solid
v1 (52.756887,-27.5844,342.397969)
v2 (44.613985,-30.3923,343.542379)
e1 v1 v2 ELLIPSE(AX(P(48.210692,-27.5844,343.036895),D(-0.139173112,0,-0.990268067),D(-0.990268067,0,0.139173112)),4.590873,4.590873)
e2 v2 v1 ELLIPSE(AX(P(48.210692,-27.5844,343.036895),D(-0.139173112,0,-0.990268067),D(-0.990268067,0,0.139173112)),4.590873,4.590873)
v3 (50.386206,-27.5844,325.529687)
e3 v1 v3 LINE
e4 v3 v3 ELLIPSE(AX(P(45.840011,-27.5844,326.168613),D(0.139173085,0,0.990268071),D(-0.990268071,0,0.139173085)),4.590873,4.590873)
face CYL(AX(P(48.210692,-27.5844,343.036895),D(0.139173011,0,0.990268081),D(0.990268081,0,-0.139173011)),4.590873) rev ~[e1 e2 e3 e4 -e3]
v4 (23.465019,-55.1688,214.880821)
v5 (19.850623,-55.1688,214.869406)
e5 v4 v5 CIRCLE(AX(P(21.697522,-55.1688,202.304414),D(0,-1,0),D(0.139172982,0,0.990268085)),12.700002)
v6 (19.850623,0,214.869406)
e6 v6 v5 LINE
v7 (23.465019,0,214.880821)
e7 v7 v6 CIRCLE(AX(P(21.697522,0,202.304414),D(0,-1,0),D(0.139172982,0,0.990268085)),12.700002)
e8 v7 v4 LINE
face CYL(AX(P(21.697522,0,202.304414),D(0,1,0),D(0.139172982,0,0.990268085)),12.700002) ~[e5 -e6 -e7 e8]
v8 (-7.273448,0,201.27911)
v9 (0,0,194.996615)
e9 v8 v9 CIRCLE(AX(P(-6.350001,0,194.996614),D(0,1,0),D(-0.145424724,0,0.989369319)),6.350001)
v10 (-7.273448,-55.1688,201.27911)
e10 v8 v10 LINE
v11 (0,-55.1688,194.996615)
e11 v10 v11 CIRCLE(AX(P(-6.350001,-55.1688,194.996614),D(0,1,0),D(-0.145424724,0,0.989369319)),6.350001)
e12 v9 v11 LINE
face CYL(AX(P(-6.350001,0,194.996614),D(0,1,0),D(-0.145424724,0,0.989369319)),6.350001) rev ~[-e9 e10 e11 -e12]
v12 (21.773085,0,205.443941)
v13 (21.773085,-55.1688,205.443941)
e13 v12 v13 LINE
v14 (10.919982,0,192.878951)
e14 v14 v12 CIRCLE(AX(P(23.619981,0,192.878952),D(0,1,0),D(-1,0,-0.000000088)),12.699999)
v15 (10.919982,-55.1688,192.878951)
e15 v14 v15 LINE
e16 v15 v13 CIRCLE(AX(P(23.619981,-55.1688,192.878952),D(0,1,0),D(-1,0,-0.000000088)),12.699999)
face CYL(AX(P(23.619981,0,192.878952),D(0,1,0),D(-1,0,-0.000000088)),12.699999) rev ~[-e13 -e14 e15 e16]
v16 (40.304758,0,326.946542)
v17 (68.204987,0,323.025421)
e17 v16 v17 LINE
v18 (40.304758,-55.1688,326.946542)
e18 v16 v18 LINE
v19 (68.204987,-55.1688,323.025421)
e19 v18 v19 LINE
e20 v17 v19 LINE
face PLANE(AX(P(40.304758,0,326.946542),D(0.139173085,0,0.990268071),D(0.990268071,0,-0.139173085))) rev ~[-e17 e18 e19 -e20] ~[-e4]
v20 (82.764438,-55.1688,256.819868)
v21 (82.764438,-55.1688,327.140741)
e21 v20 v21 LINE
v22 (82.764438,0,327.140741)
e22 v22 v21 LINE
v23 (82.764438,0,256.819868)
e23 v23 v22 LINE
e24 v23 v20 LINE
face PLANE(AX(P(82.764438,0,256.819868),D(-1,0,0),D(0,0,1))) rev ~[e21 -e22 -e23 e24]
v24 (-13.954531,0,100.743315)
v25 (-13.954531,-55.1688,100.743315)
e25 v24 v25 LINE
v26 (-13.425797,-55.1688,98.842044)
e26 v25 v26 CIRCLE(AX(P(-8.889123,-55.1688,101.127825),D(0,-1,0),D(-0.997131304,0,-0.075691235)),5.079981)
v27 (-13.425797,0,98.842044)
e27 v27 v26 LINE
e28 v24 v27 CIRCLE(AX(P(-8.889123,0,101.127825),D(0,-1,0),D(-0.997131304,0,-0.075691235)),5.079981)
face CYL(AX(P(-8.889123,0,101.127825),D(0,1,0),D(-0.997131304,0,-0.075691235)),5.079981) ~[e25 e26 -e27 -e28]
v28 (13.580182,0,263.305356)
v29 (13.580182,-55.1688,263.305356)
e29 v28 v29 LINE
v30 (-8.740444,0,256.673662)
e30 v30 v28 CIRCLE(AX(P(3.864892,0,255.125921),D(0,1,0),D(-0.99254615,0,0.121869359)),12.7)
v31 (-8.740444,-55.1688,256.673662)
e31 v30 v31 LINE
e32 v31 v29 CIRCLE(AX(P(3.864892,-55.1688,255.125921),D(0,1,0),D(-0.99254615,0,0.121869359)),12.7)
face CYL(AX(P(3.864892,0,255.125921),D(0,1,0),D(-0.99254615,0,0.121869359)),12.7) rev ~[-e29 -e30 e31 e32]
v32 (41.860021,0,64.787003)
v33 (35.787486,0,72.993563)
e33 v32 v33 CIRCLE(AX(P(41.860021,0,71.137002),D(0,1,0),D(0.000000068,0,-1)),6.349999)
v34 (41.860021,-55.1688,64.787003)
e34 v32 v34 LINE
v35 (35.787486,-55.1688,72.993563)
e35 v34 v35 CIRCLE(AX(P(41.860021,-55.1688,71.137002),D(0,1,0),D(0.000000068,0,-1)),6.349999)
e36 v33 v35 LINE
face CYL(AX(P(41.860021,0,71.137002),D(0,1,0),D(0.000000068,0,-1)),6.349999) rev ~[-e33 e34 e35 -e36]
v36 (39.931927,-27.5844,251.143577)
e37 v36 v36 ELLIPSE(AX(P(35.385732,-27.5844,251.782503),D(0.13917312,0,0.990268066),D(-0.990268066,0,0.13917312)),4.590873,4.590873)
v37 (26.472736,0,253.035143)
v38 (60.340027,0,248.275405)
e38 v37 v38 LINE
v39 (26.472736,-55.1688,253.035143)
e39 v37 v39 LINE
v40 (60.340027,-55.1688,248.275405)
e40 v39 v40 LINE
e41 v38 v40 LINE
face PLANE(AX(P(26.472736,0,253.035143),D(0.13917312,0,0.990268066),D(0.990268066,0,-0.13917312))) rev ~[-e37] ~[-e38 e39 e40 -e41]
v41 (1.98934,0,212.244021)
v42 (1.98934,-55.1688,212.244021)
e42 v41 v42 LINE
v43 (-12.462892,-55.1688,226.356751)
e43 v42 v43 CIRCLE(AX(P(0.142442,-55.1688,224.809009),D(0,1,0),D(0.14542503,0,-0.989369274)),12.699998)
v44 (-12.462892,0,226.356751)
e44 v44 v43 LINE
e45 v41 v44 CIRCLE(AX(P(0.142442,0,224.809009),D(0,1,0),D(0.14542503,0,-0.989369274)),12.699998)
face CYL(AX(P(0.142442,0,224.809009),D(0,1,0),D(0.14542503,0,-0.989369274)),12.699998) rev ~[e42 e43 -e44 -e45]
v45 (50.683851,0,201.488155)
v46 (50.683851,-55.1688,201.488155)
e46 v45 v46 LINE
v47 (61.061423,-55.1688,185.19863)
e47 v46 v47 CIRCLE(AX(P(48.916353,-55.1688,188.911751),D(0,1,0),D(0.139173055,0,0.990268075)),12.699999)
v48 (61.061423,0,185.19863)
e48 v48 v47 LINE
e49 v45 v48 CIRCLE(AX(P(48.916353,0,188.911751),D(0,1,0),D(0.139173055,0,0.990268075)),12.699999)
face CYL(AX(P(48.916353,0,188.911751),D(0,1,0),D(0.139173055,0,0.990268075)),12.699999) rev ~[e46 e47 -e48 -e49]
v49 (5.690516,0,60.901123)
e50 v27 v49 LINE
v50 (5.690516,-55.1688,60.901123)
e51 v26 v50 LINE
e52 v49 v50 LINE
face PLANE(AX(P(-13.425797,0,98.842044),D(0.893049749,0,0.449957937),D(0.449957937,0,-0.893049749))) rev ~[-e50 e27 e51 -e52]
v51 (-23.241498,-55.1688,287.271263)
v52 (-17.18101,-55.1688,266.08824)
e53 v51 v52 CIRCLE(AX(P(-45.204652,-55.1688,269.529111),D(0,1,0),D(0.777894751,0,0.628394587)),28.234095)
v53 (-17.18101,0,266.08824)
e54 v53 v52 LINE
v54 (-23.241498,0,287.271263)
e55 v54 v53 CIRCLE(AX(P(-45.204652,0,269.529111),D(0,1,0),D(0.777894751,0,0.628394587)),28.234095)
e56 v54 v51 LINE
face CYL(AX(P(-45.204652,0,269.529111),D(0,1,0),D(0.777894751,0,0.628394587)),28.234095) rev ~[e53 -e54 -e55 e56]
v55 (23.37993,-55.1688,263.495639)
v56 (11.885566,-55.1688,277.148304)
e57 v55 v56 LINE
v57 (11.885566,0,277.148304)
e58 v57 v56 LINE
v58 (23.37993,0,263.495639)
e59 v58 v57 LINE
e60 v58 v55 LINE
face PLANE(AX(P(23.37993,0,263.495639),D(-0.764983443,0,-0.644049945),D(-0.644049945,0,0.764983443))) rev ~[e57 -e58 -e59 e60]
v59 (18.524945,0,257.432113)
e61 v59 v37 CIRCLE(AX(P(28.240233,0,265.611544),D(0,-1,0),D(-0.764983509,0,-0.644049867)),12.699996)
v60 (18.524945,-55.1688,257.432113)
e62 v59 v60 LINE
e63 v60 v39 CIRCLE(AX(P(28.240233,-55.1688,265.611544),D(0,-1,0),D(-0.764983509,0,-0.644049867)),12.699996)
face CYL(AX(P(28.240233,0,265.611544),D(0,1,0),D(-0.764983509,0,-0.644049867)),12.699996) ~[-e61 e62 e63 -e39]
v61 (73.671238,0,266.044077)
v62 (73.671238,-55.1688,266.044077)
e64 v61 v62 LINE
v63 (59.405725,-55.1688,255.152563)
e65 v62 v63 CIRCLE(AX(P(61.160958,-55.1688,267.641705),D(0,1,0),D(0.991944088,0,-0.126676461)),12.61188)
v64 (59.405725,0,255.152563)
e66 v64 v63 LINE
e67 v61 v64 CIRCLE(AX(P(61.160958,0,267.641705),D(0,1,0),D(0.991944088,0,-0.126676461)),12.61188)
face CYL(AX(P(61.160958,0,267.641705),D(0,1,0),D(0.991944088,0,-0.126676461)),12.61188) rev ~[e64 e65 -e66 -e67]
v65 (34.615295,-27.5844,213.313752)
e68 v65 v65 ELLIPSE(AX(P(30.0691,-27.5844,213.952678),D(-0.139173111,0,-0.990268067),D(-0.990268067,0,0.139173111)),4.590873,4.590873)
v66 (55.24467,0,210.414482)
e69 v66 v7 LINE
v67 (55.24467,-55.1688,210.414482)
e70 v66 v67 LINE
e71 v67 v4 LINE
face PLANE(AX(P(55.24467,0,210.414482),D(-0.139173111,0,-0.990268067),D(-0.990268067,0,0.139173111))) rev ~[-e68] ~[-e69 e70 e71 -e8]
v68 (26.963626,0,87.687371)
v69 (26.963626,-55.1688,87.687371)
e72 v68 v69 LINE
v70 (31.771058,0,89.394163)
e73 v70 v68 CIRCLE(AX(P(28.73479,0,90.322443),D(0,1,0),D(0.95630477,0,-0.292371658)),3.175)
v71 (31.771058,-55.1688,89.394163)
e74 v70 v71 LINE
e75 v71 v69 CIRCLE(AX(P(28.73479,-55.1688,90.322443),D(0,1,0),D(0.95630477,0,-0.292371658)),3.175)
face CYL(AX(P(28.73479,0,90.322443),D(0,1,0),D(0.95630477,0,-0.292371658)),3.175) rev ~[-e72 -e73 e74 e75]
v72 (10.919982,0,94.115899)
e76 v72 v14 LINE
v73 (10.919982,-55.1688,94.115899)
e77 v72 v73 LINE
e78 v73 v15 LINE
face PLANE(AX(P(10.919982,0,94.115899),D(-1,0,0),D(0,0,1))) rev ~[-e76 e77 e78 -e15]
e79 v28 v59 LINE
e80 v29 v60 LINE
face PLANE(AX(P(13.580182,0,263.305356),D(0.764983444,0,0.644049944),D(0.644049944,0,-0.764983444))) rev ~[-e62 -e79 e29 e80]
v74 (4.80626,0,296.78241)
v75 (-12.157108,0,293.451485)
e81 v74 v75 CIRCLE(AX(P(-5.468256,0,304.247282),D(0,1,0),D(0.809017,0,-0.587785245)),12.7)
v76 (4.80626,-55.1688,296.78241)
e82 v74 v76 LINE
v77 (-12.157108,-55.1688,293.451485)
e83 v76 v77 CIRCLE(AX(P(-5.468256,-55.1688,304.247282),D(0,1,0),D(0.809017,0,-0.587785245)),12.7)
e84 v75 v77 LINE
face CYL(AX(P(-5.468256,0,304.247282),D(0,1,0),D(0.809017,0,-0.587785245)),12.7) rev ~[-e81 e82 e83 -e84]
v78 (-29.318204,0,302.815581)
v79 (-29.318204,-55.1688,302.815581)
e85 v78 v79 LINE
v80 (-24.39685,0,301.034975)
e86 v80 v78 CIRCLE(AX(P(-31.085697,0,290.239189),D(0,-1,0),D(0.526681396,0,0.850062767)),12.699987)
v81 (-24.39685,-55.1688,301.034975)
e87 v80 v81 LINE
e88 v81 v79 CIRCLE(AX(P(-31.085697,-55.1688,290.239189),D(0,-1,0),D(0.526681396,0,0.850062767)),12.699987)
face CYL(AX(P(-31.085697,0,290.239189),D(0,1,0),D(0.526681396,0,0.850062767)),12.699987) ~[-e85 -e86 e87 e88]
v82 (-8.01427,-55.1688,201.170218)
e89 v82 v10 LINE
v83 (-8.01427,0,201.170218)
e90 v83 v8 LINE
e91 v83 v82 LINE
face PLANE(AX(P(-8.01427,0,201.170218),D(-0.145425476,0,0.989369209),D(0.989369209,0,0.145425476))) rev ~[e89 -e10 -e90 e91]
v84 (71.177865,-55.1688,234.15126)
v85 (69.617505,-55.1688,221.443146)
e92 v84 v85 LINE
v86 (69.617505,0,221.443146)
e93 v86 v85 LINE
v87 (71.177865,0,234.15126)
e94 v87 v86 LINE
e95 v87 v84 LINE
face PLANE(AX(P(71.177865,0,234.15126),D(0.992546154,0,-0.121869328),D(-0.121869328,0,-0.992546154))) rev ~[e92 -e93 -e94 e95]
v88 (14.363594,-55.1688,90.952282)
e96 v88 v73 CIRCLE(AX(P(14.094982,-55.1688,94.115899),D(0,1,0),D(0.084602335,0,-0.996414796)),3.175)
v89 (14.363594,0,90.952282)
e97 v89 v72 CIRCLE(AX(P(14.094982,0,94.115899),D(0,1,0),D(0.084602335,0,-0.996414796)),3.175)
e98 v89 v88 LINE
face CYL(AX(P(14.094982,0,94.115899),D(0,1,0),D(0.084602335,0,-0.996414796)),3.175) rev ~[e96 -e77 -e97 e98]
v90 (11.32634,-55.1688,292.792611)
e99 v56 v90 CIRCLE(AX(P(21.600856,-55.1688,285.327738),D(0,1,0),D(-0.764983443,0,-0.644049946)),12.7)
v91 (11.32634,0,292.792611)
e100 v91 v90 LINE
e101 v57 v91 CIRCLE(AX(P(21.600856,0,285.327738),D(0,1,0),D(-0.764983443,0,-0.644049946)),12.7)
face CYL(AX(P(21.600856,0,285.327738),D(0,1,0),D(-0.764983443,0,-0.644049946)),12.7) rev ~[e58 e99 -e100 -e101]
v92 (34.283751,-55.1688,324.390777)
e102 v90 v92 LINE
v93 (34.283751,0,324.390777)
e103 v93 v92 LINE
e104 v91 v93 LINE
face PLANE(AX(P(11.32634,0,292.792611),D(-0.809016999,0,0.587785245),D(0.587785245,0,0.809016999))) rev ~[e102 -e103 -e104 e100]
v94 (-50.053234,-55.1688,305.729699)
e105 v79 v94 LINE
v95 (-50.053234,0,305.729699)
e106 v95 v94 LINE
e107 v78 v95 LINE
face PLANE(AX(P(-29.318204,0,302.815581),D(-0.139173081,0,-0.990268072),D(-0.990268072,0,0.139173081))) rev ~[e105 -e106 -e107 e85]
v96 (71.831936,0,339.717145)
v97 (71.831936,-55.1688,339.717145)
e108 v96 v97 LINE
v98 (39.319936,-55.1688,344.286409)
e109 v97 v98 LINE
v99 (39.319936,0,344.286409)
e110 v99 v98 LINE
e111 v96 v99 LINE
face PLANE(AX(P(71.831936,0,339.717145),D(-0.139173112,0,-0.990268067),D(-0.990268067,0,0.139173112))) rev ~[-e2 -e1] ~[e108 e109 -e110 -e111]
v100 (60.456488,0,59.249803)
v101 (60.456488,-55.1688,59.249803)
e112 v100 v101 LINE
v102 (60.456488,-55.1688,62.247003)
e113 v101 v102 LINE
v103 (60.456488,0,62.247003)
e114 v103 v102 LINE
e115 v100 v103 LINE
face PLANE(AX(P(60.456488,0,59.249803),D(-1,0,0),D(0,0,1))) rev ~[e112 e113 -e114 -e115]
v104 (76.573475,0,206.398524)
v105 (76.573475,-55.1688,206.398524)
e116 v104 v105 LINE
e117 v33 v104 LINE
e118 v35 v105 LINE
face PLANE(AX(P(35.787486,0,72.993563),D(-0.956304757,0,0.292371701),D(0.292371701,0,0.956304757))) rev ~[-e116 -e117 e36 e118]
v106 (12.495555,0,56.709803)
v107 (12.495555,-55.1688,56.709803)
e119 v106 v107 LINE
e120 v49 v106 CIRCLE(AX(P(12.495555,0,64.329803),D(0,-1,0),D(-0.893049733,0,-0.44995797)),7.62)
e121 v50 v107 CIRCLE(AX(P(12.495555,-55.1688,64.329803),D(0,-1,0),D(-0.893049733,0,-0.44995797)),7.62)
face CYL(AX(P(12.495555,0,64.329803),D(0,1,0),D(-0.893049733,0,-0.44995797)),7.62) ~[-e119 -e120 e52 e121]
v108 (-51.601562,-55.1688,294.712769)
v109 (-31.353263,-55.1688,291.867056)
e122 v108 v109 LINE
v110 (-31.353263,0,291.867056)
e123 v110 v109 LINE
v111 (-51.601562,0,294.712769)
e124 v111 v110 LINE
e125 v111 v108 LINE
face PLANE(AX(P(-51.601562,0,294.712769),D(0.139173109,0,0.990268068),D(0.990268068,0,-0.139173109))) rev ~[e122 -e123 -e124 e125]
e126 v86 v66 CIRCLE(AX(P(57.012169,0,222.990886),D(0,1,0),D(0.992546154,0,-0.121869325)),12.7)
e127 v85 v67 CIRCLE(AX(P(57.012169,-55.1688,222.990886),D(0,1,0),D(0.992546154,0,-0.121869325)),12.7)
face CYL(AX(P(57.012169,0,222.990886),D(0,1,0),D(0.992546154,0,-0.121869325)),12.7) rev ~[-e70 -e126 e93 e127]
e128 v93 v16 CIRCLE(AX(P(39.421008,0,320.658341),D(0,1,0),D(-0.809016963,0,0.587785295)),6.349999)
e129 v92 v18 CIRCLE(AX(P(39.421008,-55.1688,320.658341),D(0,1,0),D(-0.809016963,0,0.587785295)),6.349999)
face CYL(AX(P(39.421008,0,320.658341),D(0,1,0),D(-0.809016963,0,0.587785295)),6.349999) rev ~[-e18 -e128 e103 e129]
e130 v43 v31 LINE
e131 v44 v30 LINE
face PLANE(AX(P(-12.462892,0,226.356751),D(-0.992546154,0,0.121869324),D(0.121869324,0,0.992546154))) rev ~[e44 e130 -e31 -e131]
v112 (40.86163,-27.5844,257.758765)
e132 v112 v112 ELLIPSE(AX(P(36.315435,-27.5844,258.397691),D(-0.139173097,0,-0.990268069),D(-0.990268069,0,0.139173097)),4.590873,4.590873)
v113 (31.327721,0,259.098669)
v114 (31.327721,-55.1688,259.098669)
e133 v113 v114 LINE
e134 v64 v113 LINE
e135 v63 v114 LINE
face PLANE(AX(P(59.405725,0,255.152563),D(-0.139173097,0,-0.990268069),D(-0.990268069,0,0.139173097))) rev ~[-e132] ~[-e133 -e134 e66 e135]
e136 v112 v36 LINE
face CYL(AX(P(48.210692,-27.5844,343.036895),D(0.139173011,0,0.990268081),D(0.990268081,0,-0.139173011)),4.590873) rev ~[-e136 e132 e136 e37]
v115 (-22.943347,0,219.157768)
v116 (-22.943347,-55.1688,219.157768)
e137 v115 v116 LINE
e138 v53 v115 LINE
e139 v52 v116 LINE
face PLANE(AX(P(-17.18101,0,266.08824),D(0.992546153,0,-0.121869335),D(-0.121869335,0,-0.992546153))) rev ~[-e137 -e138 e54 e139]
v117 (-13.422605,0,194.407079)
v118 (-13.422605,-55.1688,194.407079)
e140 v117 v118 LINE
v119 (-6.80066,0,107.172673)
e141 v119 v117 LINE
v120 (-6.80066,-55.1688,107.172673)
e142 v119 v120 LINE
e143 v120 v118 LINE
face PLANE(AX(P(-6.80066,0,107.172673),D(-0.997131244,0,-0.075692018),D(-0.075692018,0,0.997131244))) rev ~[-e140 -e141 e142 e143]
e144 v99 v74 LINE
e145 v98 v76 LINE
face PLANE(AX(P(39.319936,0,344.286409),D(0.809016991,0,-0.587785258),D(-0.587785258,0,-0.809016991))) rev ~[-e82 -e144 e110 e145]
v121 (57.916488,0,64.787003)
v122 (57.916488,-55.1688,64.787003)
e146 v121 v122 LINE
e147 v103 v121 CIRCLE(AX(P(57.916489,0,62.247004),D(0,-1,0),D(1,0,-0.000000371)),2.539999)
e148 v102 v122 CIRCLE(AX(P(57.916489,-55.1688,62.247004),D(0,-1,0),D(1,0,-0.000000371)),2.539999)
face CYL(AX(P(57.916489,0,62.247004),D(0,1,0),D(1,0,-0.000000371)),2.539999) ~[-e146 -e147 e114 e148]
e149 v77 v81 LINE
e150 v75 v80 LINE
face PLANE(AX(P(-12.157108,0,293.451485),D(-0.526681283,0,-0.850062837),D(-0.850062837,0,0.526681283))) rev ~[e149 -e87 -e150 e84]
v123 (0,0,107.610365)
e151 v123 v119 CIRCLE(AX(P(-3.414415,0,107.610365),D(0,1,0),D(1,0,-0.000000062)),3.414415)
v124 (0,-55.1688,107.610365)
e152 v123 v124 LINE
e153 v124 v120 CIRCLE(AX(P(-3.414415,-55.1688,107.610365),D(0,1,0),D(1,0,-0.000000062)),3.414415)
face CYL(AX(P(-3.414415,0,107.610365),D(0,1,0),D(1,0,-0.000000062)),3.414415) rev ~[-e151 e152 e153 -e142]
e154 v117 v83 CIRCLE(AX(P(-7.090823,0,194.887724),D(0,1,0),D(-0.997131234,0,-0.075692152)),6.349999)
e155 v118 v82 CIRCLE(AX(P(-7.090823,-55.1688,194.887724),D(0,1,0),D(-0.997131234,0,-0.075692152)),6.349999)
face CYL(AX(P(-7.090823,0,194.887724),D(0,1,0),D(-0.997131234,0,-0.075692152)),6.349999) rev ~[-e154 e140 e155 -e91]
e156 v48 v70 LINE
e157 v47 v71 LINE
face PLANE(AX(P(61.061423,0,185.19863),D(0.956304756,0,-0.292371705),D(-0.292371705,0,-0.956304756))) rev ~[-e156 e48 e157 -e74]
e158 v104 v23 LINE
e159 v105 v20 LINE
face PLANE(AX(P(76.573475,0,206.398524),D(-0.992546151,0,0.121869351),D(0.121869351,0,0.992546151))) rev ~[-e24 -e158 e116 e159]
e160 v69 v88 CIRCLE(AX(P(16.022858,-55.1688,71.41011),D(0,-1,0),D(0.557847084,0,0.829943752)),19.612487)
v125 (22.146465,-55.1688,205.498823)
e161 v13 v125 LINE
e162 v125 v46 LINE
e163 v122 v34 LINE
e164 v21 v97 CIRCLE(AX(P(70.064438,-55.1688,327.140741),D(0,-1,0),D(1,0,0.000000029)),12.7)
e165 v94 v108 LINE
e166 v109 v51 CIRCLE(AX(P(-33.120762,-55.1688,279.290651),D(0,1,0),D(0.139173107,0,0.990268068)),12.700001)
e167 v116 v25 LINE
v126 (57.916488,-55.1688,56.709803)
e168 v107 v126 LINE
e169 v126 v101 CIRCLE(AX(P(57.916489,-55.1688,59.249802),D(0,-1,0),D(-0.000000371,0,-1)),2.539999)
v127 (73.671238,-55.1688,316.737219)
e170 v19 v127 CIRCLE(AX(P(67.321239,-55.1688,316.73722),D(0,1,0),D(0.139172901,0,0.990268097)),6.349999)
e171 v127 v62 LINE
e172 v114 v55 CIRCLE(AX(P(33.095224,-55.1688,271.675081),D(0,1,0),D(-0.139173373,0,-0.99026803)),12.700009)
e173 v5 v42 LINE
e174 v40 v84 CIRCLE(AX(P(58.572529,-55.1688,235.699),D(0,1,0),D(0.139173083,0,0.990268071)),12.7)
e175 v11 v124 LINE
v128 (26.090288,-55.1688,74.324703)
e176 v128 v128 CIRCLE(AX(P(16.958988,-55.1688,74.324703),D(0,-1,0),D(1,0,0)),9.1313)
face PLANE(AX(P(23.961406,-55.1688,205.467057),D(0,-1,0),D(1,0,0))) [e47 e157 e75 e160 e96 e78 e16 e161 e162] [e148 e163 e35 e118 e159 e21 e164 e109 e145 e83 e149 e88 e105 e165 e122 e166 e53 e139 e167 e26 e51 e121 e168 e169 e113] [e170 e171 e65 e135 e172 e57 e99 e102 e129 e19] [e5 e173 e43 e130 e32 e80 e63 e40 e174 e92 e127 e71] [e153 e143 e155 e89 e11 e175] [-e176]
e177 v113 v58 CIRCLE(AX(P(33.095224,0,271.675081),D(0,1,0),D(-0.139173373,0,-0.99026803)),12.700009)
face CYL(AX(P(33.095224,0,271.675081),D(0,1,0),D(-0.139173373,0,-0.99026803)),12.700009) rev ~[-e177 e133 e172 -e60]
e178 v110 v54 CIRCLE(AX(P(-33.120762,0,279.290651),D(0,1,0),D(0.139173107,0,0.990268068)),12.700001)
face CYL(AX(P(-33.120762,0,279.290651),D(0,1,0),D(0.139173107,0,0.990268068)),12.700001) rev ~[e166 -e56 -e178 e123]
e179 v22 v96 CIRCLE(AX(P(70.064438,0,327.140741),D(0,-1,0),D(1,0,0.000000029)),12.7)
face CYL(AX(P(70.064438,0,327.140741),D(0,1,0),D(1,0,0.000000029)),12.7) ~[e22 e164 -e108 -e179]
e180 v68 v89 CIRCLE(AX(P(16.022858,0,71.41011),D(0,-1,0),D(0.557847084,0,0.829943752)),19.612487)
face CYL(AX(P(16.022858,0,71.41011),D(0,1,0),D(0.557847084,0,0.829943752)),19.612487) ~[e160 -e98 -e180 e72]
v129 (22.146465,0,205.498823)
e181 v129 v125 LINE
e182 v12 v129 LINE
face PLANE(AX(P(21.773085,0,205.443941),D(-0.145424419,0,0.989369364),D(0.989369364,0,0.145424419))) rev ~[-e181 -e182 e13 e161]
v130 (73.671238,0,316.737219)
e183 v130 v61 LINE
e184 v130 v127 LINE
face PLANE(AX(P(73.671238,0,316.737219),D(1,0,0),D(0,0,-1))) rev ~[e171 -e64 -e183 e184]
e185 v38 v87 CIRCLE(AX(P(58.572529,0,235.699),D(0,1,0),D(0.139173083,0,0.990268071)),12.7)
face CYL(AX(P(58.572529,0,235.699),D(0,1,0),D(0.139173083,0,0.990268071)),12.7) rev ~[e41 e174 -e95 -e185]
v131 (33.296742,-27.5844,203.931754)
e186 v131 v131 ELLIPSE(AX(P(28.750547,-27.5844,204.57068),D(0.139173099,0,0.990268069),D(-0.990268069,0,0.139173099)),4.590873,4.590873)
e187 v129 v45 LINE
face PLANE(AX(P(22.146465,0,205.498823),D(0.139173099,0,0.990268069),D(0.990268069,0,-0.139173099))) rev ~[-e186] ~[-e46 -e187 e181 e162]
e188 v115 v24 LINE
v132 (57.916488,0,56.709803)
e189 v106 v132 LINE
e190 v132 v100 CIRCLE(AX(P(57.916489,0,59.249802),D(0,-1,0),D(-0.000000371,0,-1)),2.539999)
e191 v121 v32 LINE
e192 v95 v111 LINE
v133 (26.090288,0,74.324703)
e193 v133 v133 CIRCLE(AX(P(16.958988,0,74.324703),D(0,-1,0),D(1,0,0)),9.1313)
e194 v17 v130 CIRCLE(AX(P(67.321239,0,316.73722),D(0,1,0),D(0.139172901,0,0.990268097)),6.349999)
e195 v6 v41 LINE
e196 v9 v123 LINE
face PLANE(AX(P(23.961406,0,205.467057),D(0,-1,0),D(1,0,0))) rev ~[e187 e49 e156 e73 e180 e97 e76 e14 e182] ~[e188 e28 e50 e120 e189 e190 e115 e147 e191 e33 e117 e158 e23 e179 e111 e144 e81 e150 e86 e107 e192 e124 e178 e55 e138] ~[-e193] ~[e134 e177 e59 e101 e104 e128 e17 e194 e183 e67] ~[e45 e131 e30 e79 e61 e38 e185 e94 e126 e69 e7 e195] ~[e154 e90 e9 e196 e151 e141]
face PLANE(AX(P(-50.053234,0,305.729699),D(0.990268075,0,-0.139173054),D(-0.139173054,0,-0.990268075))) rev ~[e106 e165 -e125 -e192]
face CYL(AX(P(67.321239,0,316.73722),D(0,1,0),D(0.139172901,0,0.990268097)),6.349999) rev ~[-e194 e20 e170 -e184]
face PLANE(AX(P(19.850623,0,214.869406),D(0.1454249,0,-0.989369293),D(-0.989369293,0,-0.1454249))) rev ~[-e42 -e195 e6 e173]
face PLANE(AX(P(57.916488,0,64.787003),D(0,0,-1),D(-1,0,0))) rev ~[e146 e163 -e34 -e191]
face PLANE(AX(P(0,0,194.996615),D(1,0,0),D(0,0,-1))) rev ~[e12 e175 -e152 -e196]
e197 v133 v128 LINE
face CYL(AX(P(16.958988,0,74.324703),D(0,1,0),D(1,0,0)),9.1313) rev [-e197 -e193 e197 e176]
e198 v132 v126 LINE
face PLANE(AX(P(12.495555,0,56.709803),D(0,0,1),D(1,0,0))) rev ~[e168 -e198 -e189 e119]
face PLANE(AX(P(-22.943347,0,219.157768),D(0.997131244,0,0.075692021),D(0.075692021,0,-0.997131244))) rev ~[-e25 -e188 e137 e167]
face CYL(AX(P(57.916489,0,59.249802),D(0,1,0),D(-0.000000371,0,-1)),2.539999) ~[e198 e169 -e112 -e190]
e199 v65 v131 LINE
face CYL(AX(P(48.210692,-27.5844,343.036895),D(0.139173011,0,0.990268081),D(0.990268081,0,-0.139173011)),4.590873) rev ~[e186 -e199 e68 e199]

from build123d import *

# Parameters (mm, degrees)
F0_R     = 9.1313
F1_DEPTH = 55.1688
F2_R     = 4.590873
F3_DEPTH = 152.4


with BuildPart() as f1:
    # F0 (on Front) → F1 (new body)
    with BuildSketch(Plane.XZ):
        with BuildLine():
            ThreePointArc((5.690516, 60.901123), (8.49944, 57.841701), (12.495555, 56.709803))
            Line((12.495555, 56.709803), (57.916488, 56.709803))
            ThreePointArc((57.916488, 56.709803), (59.71254, 57.453752), (60.456488, 59.249803))
            Line((60.456488, 59.249803), (60.456488, 62.247003))
            ThreePointArc((60.456488, 62.247003), (59.71254, 64.043054), (57.916488, 64.787003))
            Line((57.916488, 64.787003), (41.860021, 64.787003))
            ThreePointArc((41.860021, 64.787003), (36.75553, 67.359878), (35.787486, 72.993563))
            Line((35.787486, 72.993563), (76.573475, 206.398524))
            Line((76.573475, 206.398524), (82.764438, 256.819868))
            Line((82.764438, 256.819868), (82.764438, 327.140741))
            ThreePointArc((82.764438, 327.140741), (79.649249, 335.472691), (71.831936, 339.717145))
            Line((71.831936, 339.717145), (39.319936, 344.286409))
            Line((39.319936, 344.286409), (4.80626, 296.78241))
            ThreePointArc((4.80626, 296.78241), (-3.021214, 291.785261), (-12.157108, 293.451485))
            Line((-12.157108, 293.451485), (-24.39685, 301.034975))
            ThreePointArc((-24.39685, 301.034975), (-26.76481, 302.181534), (-29.318204, 302.815581))
            Line((-29.318204, 302.815581), (-50.053234, 305.729699))
            Line((-50.053234, 305.729699), (-51.601562, 294.712769))
            Line((-51.601562, 294.712769), (-31.353263, 291.867056))
            ThreePointArc((-31.353263, 291.867056), (-26.860403, 290.340444), (-23.241498, 287.271263))
            ThreePointArc((-23.241498, 287.271263), (-18.05967, 277.295323), (-17.18101, 266.08824))
            Line((-17.18101, 266.08824), (-22.943347, 219.157768))
            Line((-22.943347, 219.157768), (-13.954531, 100.743315))
            ThreePointArc((-13.954531, 100.743315), (-13.783375, 99.766758), (-13.425797, 98.842044))
            Line((-13.425797, 98.842044), (5.690516, 60.901123))
        make_face()
        with BuildLine():
            ThreePointArc((0, 107.610365), (-3.195116, 104.203), (-6.80066, 107.172673))
            Line((-6.80066, 107.172673), (-13.422605, 194.407079))
            ThreePointArc((-13.422605, 194.407079), (-12.050117, 198.853564), (-8.01427, 201.170218))
            Line((-8.01427, 201.170218), (-7.273448, 201.27911))
            ThreePointArc((-7.273448, 201.27911), (-2.199181, 199.802153), (0, 194.996615))
            Line((0, 194.996615), (0, 107.610365))
        make_face(mode=Mode.SUBTRACT)
        with Locations((16.958988, 74.324703)):
            Circle(F0_R, mode=Mode.SUBTRACT)
        with BuildLine():
            Line((21.773085, 205.443941), (22.146465, 205.498823))
            Line((22.146465, 205.498823), (50.683851, 201.488155))
            ThreePointArc((50.683851, 201.488155), (59.627424, 195.735456), (61.061423, 185.19863))
            Line((61.061423, 185.19863), (31.771058, 89.394163))
            ThreePointArc((31.771058, 89.394163), (29.797055, 87.330417), (26.963626, 87.687371))
            ThreePointArc((26.963626, 87.687371), (20.942359, 90.395582), (14.363594, 90.952282))
            ThreePointArc((14.363594, 90.952282), (11.946985, 91.777794), (10.919982, 94.115899))
            Line((10.919982, 94.115899), (10.919982, 192.878951))
            ThreePointArc((10.919982, 192.878951), (14.008905, 201.18059), (21.773085, 205.443941))
        make_face(mode=Mode.SUBTRACT)
        with BuildLine():
            Line((55.24467, 210.414482), (23.465019, 214.880821))
            ThreePointArc((23.465019, 214.880821), (21.657413, 215.004353), (19.850623, 214.869406))
            Line((19.850623, 214.869406), (1.98934, 212.244021))
            ThreePointArc((1.98934, 212.244021), (-8.730453, 215.722663), (-12.462892, 226.356751))
            Line((-12.462892, 226.356751), (-8.740444, 256.673662))
            ThreePointArc((-8.740444, 256.673662), (0.247859, 267.299954), (13.580182, 263.305356))
            Line((13.580182, 263.305356), (18.524945, 257.432113))
            ThreePointArc((18.524945, 257.432113), (22.092313, 254.498804), (26.472736, 253.035143))
            Line((26.472736, 253.035143), (60.340027, 248.275405))
            ThreePointArc((60.340027, 248.275405), (68.648116, 243.430271), (71.177865, 234.15126))
            Line((71.177865, 234.15126), (69.617505, 221.443146))
            ThreePointArc((69.617505, 221.443146), (64.743439, 212.915299), (55.24467, 210.414482))
        make_face(mode=Mode.SUBTRACT)
        with BuildLine():
            Line((59.405725, 255.152563), (31.327721, 259.098669))
            ThreePointArc((31.327721, 259.098669), (26.947298, 260.562331), (23.37993, 263.495639))
            Line((23.37993, 263.495639), (11.885566, 277.148304))
            ThreePointArc((11.885566, 277.148304), (8.908962, 284.87405), (11.32634, 292.792611))
            Line((11.32634, 292.792611), (34.283751, 324.390777))
            ThreePointArc((34.283751, 324.390777), (36.939866, 326.503546), (40.304758, 326.946542))
            Line((40.304758, 326.946542), (68.204987, 323.025421))
            ThreePointArc((68.204987, 323.025421), (72.113644, 320.903194), (73.671238, 316.737219))
            Line((73.671238, 316.737219), (73.671238, 266.044077))
            ThreePointArc((73.671238, 266.044077), (68.814325, 257.61746), (59.405725, 255.152563))
        make_face(mode=Mode.SUBTRACT)
    extrude(amount=F1_DEPTH)

    # F2 (on face) → F3 (cut)
    with BuildSketch(Plane(origin=(48.210692, 0, 343.036895), x_dir=(0.990268, 0, -0.139173), z_dir=(0.139173, 0, 0.990268))):
        with Locations((0, -27.5844)):
            Circle(F2_R)
    extrude(amount=-F3_DEPTH, mode=Mode.SUBTRACT)


solid = f1.part
